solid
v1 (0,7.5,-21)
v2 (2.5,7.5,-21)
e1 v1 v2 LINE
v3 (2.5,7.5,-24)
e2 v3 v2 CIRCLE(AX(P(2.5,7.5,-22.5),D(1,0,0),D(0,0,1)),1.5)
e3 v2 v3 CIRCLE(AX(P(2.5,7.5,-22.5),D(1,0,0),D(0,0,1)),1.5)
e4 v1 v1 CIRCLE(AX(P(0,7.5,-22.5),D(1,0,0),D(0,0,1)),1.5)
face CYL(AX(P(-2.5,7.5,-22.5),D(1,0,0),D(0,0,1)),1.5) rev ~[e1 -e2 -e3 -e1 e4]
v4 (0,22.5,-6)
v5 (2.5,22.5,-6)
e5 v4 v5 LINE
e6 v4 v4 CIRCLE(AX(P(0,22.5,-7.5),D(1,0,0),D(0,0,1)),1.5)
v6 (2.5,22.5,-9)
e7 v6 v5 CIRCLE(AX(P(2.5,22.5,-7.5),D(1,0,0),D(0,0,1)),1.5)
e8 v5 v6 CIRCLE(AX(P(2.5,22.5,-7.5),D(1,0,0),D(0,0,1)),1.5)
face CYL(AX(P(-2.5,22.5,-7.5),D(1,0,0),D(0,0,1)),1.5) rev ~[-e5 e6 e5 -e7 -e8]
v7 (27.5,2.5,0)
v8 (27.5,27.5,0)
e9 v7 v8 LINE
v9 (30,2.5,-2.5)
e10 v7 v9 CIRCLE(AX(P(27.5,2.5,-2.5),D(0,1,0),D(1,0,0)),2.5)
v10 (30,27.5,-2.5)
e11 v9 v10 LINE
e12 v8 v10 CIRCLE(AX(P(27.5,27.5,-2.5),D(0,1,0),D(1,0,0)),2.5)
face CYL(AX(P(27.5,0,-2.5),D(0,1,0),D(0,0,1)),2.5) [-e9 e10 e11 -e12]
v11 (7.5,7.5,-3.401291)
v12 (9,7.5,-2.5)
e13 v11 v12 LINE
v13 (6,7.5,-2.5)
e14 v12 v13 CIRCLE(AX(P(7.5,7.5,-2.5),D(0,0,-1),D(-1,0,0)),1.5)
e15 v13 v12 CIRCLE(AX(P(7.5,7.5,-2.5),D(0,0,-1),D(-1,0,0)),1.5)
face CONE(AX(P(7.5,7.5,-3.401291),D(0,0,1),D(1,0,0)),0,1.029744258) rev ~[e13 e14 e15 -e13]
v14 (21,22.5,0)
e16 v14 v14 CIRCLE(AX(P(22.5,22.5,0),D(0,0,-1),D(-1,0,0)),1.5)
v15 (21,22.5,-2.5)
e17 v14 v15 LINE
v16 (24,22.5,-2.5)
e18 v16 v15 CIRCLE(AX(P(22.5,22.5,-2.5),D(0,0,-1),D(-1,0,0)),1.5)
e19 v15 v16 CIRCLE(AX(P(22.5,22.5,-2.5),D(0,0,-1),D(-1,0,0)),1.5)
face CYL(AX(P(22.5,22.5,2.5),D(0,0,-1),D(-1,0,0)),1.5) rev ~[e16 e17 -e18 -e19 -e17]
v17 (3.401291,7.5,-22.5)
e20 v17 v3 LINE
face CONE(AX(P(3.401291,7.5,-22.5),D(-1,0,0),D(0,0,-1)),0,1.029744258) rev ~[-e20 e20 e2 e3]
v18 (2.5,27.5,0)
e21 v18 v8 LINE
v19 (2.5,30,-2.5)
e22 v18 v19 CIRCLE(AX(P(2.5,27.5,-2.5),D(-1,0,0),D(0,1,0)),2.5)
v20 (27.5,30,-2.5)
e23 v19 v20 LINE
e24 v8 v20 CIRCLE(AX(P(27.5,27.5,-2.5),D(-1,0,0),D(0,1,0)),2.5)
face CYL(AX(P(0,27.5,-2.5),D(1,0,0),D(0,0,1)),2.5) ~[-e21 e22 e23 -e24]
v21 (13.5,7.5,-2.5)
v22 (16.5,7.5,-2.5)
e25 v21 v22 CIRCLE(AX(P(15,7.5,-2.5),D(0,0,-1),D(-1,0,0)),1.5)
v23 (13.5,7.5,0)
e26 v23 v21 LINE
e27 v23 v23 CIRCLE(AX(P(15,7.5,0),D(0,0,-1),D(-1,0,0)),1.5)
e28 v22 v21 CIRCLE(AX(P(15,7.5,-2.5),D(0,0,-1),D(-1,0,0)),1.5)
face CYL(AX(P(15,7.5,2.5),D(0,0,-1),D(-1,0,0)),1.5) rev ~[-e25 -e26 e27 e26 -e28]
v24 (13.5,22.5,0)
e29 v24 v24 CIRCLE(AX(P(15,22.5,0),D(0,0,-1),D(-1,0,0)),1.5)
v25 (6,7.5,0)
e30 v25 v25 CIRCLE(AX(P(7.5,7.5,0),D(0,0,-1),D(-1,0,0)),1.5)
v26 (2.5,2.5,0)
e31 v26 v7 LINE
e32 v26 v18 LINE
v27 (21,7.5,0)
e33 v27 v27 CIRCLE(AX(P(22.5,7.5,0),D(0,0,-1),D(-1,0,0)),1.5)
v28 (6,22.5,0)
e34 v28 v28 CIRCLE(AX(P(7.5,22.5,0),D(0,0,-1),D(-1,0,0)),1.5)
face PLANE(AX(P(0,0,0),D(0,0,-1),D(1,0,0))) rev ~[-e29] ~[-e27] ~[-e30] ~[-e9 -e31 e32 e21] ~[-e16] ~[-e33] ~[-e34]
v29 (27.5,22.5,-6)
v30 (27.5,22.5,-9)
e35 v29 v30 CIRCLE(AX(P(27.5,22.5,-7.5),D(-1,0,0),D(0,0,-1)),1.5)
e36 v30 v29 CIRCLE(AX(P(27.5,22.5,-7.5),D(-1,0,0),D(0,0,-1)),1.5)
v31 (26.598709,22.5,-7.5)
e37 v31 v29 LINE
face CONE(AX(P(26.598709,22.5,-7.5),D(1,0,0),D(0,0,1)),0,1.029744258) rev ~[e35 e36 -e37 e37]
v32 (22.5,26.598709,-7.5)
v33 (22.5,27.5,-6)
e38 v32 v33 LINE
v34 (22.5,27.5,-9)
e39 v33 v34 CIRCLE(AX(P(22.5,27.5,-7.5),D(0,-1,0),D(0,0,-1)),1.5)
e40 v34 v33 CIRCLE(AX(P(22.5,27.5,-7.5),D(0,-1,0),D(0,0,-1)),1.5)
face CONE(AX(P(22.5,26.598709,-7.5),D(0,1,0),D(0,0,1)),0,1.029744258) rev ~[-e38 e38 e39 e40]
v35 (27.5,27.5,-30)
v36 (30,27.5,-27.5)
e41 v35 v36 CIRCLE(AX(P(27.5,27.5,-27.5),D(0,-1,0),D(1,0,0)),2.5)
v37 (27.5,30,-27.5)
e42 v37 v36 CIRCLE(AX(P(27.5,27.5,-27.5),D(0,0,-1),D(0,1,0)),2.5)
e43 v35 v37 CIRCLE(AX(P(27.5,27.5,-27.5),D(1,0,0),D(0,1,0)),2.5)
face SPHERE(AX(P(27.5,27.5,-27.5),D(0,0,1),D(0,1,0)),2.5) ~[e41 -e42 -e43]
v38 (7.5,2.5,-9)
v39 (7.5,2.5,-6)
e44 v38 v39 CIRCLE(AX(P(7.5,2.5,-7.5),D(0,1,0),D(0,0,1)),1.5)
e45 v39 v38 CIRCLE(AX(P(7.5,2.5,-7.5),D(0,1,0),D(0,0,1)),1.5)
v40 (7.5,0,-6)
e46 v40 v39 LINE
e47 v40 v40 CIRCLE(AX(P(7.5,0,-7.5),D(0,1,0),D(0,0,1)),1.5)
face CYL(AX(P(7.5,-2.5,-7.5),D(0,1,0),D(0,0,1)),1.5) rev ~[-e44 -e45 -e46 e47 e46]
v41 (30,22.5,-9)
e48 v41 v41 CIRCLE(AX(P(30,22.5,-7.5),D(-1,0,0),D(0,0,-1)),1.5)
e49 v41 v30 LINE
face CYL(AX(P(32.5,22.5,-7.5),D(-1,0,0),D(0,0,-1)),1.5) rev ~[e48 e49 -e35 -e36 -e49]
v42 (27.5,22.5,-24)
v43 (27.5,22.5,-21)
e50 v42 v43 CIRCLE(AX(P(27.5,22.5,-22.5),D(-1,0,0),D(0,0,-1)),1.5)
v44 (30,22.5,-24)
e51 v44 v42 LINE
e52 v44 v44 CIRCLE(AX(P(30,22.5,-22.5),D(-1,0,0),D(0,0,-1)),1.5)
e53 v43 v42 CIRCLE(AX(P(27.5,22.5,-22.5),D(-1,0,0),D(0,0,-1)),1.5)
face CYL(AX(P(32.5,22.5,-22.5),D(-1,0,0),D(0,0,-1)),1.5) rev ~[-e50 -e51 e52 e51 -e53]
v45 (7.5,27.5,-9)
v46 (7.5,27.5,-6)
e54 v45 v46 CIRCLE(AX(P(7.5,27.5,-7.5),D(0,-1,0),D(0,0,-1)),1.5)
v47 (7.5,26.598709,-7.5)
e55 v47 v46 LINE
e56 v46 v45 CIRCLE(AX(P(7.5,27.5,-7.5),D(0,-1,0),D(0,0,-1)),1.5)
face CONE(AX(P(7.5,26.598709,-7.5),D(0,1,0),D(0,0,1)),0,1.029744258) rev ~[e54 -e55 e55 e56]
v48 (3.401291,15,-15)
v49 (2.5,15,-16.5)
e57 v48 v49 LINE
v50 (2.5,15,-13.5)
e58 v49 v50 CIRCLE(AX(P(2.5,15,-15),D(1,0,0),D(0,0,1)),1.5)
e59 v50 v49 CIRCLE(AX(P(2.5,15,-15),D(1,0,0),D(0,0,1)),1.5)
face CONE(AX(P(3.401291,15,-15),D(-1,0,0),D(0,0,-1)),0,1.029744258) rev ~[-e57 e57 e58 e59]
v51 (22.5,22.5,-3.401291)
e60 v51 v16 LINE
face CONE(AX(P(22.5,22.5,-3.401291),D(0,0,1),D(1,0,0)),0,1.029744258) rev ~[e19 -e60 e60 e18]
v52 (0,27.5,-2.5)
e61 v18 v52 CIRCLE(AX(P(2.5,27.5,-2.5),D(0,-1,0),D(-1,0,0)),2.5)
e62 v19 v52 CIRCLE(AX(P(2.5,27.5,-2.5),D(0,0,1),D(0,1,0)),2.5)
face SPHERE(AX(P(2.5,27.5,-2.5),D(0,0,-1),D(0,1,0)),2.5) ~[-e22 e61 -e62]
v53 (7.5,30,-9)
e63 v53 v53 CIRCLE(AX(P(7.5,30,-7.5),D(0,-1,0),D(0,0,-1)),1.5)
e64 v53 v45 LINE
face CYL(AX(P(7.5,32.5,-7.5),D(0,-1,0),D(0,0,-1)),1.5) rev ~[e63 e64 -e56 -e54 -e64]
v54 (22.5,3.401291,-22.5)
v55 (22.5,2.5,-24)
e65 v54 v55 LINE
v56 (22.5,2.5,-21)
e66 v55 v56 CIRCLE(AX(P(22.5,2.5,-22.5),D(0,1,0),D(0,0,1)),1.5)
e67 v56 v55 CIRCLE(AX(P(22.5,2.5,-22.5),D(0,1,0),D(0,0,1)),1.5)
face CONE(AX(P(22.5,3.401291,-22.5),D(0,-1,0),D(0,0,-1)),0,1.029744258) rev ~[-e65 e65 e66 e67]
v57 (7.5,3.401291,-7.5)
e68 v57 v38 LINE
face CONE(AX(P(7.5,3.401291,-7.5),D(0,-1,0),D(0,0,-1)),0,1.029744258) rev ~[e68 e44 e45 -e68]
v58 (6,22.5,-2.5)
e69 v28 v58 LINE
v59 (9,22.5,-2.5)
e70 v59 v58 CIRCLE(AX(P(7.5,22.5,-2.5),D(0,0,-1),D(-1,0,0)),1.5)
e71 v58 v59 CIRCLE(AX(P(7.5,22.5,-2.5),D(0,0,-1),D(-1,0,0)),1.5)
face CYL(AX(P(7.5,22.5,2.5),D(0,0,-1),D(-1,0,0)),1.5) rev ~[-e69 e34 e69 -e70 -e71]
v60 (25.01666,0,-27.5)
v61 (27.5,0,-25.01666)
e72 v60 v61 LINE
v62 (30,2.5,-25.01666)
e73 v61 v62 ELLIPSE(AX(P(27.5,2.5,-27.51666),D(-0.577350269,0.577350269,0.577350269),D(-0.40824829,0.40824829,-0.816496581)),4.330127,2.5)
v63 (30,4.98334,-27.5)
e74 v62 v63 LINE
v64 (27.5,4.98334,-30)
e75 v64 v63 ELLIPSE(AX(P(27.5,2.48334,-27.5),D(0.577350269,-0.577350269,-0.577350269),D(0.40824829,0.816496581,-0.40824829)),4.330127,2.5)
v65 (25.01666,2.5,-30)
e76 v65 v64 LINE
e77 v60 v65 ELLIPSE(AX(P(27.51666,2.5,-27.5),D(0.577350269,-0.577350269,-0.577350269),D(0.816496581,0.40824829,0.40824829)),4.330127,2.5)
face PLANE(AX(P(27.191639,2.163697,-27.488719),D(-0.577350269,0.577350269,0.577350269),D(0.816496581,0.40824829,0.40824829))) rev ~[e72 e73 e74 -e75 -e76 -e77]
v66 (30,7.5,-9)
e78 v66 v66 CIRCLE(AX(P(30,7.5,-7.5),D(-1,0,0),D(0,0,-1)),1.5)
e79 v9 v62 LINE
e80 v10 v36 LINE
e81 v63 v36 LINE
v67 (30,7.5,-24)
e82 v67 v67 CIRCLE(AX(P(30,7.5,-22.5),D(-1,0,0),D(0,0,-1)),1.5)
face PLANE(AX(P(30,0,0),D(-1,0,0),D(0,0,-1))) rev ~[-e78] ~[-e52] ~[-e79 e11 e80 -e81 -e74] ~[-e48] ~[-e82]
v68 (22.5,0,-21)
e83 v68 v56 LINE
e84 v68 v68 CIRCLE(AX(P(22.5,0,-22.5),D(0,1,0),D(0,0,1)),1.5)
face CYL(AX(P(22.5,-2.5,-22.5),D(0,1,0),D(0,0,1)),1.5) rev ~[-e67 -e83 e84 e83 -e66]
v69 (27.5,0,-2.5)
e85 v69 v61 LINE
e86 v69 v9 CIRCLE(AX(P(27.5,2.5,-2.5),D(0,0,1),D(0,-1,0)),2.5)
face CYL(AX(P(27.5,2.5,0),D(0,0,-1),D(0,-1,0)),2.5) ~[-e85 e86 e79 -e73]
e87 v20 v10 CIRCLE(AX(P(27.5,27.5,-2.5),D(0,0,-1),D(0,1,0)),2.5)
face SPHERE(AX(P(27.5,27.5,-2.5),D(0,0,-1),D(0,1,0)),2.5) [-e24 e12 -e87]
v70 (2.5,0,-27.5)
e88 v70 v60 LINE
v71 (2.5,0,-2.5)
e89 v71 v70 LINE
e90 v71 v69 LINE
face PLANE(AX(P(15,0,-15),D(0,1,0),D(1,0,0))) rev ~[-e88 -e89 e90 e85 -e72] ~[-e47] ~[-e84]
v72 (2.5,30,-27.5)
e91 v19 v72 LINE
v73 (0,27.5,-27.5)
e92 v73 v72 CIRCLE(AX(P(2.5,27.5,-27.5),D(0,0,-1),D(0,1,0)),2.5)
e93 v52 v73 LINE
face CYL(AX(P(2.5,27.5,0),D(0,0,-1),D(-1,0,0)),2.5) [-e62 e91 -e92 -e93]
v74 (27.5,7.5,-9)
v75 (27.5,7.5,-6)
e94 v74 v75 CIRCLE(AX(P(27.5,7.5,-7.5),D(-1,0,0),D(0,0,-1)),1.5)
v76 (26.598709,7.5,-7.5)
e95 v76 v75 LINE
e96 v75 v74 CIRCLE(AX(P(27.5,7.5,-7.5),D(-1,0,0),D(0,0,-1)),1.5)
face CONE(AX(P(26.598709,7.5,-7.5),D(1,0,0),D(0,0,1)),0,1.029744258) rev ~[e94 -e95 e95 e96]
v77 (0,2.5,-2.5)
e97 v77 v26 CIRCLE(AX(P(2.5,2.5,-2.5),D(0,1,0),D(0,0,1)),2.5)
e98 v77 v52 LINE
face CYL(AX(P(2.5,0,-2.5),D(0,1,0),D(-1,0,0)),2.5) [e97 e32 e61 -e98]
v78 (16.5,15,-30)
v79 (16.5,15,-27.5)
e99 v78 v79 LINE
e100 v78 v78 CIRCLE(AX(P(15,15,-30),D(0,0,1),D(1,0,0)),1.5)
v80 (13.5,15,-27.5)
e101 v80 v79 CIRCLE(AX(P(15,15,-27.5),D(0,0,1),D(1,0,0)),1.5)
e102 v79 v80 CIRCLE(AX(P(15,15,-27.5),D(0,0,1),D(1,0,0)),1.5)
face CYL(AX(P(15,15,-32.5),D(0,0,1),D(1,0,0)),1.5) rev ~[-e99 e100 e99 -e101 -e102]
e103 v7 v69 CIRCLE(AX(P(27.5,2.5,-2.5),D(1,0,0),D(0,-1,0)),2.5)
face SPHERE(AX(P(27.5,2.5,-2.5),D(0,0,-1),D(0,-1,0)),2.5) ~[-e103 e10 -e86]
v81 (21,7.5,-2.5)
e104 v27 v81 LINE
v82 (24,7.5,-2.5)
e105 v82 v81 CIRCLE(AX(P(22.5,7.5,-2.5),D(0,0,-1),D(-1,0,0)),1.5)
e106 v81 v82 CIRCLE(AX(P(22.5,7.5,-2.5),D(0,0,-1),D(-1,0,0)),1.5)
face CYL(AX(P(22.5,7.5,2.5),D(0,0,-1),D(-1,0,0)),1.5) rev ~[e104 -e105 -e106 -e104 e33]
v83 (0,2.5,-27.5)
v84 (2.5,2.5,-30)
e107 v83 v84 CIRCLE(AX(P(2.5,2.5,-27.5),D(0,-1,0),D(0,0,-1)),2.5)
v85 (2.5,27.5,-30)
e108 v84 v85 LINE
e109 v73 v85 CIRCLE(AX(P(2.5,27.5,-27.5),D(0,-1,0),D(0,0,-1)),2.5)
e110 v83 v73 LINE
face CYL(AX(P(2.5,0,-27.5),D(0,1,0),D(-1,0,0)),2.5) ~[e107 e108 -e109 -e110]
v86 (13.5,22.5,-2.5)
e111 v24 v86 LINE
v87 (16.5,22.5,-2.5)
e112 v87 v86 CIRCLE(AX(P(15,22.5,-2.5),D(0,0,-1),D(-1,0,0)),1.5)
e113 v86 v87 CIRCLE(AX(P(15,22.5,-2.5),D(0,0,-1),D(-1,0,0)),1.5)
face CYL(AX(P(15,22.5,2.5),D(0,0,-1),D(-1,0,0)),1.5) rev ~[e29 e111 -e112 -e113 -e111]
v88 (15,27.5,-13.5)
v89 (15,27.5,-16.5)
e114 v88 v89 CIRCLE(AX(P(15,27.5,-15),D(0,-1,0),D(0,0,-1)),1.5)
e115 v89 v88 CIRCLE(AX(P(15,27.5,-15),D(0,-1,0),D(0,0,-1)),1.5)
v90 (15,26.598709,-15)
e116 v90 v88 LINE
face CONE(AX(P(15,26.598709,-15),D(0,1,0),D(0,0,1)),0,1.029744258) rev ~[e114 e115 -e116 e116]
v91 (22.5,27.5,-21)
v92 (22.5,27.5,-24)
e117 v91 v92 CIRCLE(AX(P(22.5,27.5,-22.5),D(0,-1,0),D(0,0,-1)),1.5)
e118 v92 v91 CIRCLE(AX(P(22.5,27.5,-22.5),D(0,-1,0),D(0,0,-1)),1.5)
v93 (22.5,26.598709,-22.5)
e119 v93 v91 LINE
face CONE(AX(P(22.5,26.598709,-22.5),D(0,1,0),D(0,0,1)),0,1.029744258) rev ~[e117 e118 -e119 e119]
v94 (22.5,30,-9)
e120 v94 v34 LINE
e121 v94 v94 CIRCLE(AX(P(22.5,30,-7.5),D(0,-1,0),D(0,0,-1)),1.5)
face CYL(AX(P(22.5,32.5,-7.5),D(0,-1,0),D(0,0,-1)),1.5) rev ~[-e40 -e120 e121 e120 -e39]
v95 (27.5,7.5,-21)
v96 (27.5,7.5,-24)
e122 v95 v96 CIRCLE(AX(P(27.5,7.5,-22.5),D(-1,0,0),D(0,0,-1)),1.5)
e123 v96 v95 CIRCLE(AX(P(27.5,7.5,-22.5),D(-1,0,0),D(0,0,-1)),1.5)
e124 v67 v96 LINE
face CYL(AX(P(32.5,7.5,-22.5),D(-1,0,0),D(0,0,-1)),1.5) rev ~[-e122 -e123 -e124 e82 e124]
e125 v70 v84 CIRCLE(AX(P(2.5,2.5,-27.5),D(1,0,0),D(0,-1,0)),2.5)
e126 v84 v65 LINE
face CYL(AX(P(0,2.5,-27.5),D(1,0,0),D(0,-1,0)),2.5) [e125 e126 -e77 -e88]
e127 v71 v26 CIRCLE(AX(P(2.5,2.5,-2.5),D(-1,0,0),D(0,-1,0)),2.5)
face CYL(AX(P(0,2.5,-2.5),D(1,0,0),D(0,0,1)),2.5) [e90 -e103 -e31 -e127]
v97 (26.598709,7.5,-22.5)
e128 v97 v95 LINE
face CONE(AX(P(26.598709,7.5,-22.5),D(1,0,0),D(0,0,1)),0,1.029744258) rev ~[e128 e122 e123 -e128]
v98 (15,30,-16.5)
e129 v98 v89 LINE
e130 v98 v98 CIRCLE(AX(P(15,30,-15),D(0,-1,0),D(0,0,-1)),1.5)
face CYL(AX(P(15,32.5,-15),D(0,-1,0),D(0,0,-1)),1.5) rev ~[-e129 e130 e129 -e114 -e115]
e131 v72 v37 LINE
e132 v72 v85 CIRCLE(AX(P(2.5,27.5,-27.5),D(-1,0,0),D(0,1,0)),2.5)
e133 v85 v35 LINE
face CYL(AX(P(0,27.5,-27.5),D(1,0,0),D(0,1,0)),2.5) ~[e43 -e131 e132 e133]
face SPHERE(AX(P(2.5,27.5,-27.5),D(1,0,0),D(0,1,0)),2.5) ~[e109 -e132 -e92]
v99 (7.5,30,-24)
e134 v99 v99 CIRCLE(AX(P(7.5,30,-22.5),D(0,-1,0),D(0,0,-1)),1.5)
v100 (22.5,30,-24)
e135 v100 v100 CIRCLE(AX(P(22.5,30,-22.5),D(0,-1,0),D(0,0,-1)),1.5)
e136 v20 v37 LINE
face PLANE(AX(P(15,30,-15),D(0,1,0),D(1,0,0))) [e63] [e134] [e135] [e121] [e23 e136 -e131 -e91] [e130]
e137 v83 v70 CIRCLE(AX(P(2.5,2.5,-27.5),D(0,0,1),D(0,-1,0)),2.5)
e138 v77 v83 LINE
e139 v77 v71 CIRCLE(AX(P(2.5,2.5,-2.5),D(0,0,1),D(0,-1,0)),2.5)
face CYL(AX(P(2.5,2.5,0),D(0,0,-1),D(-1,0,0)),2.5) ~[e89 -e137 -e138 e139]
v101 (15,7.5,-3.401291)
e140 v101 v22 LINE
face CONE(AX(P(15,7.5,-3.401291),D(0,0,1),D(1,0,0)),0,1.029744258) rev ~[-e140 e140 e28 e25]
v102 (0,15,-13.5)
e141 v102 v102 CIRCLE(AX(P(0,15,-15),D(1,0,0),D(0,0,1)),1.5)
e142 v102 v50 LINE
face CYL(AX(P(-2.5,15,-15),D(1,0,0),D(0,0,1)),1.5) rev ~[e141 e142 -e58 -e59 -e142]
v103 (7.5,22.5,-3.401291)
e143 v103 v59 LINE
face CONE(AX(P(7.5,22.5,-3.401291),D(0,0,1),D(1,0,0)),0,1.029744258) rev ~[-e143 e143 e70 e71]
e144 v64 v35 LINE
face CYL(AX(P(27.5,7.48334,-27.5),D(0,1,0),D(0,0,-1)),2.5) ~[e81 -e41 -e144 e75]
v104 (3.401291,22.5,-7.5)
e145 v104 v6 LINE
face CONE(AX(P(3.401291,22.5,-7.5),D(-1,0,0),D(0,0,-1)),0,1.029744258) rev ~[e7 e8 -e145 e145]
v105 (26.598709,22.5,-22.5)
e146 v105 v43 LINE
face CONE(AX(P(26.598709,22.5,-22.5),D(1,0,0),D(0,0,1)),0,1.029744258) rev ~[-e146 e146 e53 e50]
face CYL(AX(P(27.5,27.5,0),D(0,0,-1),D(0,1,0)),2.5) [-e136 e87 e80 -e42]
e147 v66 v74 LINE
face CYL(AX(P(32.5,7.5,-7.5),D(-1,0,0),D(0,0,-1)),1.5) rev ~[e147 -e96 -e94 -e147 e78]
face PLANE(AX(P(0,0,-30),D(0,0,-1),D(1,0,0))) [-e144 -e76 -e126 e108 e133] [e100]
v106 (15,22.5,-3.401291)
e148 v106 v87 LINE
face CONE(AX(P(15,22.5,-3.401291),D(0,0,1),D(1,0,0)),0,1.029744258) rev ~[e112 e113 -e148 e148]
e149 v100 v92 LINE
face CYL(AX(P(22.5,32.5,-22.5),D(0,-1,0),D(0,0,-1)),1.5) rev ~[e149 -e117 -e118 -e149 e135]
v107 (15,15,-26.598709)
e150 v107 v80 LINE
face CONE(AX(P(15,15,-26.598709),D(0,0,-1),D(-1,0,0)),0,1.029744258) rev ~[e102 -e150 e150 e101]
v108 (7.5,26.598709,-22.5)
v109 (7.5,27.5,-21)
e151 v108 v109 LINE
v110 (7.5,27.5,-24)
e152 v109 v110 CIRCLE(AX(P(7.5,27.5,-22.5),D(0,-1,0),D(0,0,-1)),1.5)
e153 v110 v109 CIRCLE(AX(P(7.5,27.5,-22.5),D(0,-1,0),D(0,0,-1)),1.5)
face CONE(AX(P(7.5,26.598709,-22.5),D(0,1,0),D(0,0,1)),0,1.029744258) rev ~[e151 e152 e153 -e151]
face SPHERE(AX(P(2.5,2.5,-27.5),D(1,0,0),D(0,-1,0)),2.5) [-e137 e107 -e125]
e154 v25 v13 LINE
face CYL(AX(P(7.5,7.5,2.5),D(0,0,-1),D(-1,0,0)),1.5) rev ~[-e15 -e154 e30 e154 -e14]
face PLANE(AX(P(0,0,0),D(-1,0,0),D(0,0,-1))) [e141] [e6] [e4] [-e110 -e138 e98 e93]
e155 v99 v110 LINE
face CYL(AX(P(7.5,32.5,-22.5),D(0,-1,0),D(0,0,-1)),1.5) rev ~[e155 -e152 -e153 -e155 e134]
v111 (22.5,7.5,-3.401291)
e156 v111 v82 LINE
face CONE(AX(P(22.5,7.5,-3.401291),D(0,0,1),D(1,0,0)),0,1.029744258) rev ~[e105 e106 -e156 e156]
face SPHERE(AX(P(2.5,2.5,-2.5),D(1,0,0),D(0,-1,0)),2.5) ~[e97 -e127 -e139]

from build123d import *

# Parameters (mm, degrees)
SKETCH1_W                    = 30
SKETCH1_H                    = 30
BOSS_EXTRUDE1_DEPTH          = 30
F_3_0_3_DIAMETER_HOLE1_D     = 3
F_3_0_3_DIAMETER_HOLE1_DEPTH = 2.5
F_3_0_3_DIAMETER_HOLE1_TIP   = 0.901290929
F_3_0_3_DIAMETER_HOLE2_D     = 3
F_3_0_3_DIAMETER_HOLE2_DEPTH = 2.5
F_3_0_3_DIAMETER_HOLE2_TIP   = 0.901290929
F_3_0_3_DIAMETER_HOLE3_D     = 3
F_3_0_3_DIAMETER_HOLE3_DEPTH = 2.5
F_3_0_3_DIAMETER_HOLE3_TIP   = 0.901290929
F_3_0_3_DIAMETER_HOLE4_D     = 3
F_3_0_3_DIAMETER_HOLE4_DEPTH = 2.5
F_3_0_3_DIAMETER_HOLE4_TIP   = 0.901290929
F_3_0_3_DIAMETER_HOLE5_D     = 3
F_3_0_3_DIAMETER_HOLE5_DEPTH = 2.5
F_3_0_3_DIAMETER_HOLE5_TIP   = 0.901290929
F_3_0_3_DIAMETER_HOLE6_D     = 3
F_3_0_3_DIAMETER_HOLE6_DEPTH = 2.5
F_3_0_3_DIAMETER_HOLE6_TIP   = 0.901290929
SKETCH14_W                   = 17.836209409
SKETCH14_H                   = 14.772604036
CUT_EXTRUDE1_DEPTH           = 5.320508076
FILLET1_R                    = 2.5


with BuildPart() as part:
    # Sketch1 → Boss-Extrude1 (new body)
    with BuildSketch(Plane(origin=(0, 0, 0), x_dir=(1, 0, 0), z_dir=(0, 1, 0))):
        with Locations((15, 15)):
            Rectangle(SKETCH1_W, SKETCH1_H)
    extrude(amount=BOSS_EXTRUDE1_DEPTH)

    # Ø3.0 (3) Diameter Hole1
    with Locations(Plane(origin=(7.5, 22.5, 0), x_dir=(1, 0, 0), z_dir=(0, 0, 1))):
        with Locations((0, 0), (7.5, 0), (15, 0), (15, -15), (7.5, -15), (0, -15)):
            Hole(F_3_0_3_DIAMETER_HOLE1_D / 2, depth=F_3_0_3_DIAMETER_HOLE1_DEPTH)
            with Locations((0, 0, -(F_3_0_3_DIAMETER_HOLE1_DEPTH + F_3_0_3_DIAMETER_HOLE1_TIP / 2))):  # 118° drill point
                Cone(0, F_3_0_3_DIAMETER_HOLE1_D / 2, F_3_0_3_DIAMETER_HOLE1_TIP, mode=Mode.SUBTRACT)

    # Ø3.0 (3) Diameter Hole2
    with Locations(Plane(origin=(7.5, 30, -22.5), x_dir=(0, 0, 1), z_dir=(0, 1, 0))):
        with Locations((0, 0), (7.5, 7.5), (0, 15), (15, 15), (15, 0)):
            Hole(F_3_0_3_DIAMETER_HOLE2_D / 2, depth=F_3_0_3_DIAMETER_HOLE2_DEPTH)
            with Locations((0, 0, -(F_3_0_3_DIAMETER_HOLE2_DEPTH + F_3_0_3_DIAMETER_HOLE2_TIP / 2))):  # 118° drill point
                Cone(0, F_3_0_3_DIAMETER_HOLE2_D / 2, F_3_0_3_DIAMETER_HOLE2_TIP, mode=Mode.SUBTRACT)

    # Ø3.0 (3) Diameter Hole3
    with Locations(Plane(origin=(15, 15, -30), x_dir=(-1, 0, 0), z_dir=(0, 0, -1))):
        with Locations((0, 0)):
            Hole(F_3_0_3_DIAMETER_HOLE3_D / 2, depth=F_3_0_3_DIAMETER_HOLE3_DEPTH)
            with Locations((0, 0, -(F_3_0_3_DIAMETER_HOLE3_DEPTH + F_3_0_3_DIAMETER_HOLE3_TIP / 2))):  # 118° drill point
                Cone(0, F_3_0_3_DIAMETER_HOLE3_D / 2, F_3_0_3_DIAMETER_HOLE3_TIP, mode=Mode.SUBTRACT)

    # Ø3.0 (3) Diameter Hole4
    with Locations(Plane(origin=(7.5, 0, -7.5), x_dir=(0, 0, -1), z_dir=(0, -1, 0))):
        with Locations((0, 0), (15, 15)):
            Hole(F_3_0_3_DIAMETER_HOLE4_D / 2, depth=F_3_0_3_DIAMETER_HOLE4_DEPTH)
            with Locations((0, 0, -(F_3_0_3_DIAMETER_HOLE4_DEPTH + F_3_0_3_DIAMETER_HOLE4_TIP / 2))):  # 118° drill point
                Cone(0, F_3_0_3_DIAMETER_HOLE4_D / 2, F_3_0_3_DIAMETER_HOLE4_TIP, mode=Mode.SUBTRACT)

    # Ø3.0 (3) Diameter Hole5
    with Locations(Plane(origin=(30, 7.5, -7.5), x_dir=(0, 0, 1), z_dir=(1, 0, 0))):
        with Locations((0, 0), (-15, 0), (-15, -15), (0, -15)):
            Hole(F_3_0_3_DIAMETER_HOLE5_D / 2, depth=F_3_0_3_DIAMETER_HOLE5_DEPTH)
            with Locations((0, 0, -(F_3_0_3_DIAMETER_HOLE5_DEPTH + F_3_0_3_DIAMETER_HOLE5_TIP / 2))):  # 118° drill point
                Cone(0, F_3_0_3_DIAMETER_HOLE5_D / 2, F_3_0_3_DIAMETER_HOLE5_TIP, mode=Mode.SUBTRACT)

    # Ø3.0 (3) Diameter Hole6
    with Locations(Plane(origin=(0, 22.5, -7.5), x_dir=(0, 0, -1), z_dir=(-1, 0, 0))):
        with Locations((0, 0), (7.5, 7.5), (15, 15)):
            Hole(F_3_0_3_DIAMETER_HOLE6_D / 2, depth=F_3_0_3_DIAMETER_HOLE6_DEPTH)
            with Locations((0, 0, -(F_3_0_3_DIAMETER_HOLE6_DEPTH + F_3_0_3_DIAMETER_HOLE6_TIP / 2))):  # 118° drill point
                Cone(0, F_3_0_3_DIAMETER_HOLE6_D / 2, F_3_0_3_DIAMETER_HOLE6_TIP, mode=Mode.SUBTRACT)

    # Sketch14 → Cut-Extrude1 (cut, through all)
    with BuildSketch(Plane(origin=(17.505553499, -17.505553499, -17.505553499), x_dir=(0.816496581, 0.40824829, 0.40824829), z_dir=(-0.577350269, 0.577350269, 0.577350269))):
        with Locations((11.862983406, 20.967424405)):
            Rectangle(SKETCH14_W, SKETCH14_H)
    extrude(amount=-CUT_EXTRUDE1_DEPTH, mode=Mode.SUBTRACT)

    # Fillet1
    fillet1_edges = [part.edges().sort_by_distance(p)[0] for p in [
        (30, 30, -15),
        (11.258330249, 0, -30),
        (15, 30, -30),
        (0, 30, -15),
        (30, 0, -11.258330249),
        (15, 0, 0),
        (0, 0, -15),
        (15, 30, 0),
        (0, 15, -30),
        (30, 18.741669751, -30),
        (30, 15, 0),
        (0, 15, 0),
    ]]
    fillet(fillet1_edges, radius=FILLET1_R)


solid = part.part
